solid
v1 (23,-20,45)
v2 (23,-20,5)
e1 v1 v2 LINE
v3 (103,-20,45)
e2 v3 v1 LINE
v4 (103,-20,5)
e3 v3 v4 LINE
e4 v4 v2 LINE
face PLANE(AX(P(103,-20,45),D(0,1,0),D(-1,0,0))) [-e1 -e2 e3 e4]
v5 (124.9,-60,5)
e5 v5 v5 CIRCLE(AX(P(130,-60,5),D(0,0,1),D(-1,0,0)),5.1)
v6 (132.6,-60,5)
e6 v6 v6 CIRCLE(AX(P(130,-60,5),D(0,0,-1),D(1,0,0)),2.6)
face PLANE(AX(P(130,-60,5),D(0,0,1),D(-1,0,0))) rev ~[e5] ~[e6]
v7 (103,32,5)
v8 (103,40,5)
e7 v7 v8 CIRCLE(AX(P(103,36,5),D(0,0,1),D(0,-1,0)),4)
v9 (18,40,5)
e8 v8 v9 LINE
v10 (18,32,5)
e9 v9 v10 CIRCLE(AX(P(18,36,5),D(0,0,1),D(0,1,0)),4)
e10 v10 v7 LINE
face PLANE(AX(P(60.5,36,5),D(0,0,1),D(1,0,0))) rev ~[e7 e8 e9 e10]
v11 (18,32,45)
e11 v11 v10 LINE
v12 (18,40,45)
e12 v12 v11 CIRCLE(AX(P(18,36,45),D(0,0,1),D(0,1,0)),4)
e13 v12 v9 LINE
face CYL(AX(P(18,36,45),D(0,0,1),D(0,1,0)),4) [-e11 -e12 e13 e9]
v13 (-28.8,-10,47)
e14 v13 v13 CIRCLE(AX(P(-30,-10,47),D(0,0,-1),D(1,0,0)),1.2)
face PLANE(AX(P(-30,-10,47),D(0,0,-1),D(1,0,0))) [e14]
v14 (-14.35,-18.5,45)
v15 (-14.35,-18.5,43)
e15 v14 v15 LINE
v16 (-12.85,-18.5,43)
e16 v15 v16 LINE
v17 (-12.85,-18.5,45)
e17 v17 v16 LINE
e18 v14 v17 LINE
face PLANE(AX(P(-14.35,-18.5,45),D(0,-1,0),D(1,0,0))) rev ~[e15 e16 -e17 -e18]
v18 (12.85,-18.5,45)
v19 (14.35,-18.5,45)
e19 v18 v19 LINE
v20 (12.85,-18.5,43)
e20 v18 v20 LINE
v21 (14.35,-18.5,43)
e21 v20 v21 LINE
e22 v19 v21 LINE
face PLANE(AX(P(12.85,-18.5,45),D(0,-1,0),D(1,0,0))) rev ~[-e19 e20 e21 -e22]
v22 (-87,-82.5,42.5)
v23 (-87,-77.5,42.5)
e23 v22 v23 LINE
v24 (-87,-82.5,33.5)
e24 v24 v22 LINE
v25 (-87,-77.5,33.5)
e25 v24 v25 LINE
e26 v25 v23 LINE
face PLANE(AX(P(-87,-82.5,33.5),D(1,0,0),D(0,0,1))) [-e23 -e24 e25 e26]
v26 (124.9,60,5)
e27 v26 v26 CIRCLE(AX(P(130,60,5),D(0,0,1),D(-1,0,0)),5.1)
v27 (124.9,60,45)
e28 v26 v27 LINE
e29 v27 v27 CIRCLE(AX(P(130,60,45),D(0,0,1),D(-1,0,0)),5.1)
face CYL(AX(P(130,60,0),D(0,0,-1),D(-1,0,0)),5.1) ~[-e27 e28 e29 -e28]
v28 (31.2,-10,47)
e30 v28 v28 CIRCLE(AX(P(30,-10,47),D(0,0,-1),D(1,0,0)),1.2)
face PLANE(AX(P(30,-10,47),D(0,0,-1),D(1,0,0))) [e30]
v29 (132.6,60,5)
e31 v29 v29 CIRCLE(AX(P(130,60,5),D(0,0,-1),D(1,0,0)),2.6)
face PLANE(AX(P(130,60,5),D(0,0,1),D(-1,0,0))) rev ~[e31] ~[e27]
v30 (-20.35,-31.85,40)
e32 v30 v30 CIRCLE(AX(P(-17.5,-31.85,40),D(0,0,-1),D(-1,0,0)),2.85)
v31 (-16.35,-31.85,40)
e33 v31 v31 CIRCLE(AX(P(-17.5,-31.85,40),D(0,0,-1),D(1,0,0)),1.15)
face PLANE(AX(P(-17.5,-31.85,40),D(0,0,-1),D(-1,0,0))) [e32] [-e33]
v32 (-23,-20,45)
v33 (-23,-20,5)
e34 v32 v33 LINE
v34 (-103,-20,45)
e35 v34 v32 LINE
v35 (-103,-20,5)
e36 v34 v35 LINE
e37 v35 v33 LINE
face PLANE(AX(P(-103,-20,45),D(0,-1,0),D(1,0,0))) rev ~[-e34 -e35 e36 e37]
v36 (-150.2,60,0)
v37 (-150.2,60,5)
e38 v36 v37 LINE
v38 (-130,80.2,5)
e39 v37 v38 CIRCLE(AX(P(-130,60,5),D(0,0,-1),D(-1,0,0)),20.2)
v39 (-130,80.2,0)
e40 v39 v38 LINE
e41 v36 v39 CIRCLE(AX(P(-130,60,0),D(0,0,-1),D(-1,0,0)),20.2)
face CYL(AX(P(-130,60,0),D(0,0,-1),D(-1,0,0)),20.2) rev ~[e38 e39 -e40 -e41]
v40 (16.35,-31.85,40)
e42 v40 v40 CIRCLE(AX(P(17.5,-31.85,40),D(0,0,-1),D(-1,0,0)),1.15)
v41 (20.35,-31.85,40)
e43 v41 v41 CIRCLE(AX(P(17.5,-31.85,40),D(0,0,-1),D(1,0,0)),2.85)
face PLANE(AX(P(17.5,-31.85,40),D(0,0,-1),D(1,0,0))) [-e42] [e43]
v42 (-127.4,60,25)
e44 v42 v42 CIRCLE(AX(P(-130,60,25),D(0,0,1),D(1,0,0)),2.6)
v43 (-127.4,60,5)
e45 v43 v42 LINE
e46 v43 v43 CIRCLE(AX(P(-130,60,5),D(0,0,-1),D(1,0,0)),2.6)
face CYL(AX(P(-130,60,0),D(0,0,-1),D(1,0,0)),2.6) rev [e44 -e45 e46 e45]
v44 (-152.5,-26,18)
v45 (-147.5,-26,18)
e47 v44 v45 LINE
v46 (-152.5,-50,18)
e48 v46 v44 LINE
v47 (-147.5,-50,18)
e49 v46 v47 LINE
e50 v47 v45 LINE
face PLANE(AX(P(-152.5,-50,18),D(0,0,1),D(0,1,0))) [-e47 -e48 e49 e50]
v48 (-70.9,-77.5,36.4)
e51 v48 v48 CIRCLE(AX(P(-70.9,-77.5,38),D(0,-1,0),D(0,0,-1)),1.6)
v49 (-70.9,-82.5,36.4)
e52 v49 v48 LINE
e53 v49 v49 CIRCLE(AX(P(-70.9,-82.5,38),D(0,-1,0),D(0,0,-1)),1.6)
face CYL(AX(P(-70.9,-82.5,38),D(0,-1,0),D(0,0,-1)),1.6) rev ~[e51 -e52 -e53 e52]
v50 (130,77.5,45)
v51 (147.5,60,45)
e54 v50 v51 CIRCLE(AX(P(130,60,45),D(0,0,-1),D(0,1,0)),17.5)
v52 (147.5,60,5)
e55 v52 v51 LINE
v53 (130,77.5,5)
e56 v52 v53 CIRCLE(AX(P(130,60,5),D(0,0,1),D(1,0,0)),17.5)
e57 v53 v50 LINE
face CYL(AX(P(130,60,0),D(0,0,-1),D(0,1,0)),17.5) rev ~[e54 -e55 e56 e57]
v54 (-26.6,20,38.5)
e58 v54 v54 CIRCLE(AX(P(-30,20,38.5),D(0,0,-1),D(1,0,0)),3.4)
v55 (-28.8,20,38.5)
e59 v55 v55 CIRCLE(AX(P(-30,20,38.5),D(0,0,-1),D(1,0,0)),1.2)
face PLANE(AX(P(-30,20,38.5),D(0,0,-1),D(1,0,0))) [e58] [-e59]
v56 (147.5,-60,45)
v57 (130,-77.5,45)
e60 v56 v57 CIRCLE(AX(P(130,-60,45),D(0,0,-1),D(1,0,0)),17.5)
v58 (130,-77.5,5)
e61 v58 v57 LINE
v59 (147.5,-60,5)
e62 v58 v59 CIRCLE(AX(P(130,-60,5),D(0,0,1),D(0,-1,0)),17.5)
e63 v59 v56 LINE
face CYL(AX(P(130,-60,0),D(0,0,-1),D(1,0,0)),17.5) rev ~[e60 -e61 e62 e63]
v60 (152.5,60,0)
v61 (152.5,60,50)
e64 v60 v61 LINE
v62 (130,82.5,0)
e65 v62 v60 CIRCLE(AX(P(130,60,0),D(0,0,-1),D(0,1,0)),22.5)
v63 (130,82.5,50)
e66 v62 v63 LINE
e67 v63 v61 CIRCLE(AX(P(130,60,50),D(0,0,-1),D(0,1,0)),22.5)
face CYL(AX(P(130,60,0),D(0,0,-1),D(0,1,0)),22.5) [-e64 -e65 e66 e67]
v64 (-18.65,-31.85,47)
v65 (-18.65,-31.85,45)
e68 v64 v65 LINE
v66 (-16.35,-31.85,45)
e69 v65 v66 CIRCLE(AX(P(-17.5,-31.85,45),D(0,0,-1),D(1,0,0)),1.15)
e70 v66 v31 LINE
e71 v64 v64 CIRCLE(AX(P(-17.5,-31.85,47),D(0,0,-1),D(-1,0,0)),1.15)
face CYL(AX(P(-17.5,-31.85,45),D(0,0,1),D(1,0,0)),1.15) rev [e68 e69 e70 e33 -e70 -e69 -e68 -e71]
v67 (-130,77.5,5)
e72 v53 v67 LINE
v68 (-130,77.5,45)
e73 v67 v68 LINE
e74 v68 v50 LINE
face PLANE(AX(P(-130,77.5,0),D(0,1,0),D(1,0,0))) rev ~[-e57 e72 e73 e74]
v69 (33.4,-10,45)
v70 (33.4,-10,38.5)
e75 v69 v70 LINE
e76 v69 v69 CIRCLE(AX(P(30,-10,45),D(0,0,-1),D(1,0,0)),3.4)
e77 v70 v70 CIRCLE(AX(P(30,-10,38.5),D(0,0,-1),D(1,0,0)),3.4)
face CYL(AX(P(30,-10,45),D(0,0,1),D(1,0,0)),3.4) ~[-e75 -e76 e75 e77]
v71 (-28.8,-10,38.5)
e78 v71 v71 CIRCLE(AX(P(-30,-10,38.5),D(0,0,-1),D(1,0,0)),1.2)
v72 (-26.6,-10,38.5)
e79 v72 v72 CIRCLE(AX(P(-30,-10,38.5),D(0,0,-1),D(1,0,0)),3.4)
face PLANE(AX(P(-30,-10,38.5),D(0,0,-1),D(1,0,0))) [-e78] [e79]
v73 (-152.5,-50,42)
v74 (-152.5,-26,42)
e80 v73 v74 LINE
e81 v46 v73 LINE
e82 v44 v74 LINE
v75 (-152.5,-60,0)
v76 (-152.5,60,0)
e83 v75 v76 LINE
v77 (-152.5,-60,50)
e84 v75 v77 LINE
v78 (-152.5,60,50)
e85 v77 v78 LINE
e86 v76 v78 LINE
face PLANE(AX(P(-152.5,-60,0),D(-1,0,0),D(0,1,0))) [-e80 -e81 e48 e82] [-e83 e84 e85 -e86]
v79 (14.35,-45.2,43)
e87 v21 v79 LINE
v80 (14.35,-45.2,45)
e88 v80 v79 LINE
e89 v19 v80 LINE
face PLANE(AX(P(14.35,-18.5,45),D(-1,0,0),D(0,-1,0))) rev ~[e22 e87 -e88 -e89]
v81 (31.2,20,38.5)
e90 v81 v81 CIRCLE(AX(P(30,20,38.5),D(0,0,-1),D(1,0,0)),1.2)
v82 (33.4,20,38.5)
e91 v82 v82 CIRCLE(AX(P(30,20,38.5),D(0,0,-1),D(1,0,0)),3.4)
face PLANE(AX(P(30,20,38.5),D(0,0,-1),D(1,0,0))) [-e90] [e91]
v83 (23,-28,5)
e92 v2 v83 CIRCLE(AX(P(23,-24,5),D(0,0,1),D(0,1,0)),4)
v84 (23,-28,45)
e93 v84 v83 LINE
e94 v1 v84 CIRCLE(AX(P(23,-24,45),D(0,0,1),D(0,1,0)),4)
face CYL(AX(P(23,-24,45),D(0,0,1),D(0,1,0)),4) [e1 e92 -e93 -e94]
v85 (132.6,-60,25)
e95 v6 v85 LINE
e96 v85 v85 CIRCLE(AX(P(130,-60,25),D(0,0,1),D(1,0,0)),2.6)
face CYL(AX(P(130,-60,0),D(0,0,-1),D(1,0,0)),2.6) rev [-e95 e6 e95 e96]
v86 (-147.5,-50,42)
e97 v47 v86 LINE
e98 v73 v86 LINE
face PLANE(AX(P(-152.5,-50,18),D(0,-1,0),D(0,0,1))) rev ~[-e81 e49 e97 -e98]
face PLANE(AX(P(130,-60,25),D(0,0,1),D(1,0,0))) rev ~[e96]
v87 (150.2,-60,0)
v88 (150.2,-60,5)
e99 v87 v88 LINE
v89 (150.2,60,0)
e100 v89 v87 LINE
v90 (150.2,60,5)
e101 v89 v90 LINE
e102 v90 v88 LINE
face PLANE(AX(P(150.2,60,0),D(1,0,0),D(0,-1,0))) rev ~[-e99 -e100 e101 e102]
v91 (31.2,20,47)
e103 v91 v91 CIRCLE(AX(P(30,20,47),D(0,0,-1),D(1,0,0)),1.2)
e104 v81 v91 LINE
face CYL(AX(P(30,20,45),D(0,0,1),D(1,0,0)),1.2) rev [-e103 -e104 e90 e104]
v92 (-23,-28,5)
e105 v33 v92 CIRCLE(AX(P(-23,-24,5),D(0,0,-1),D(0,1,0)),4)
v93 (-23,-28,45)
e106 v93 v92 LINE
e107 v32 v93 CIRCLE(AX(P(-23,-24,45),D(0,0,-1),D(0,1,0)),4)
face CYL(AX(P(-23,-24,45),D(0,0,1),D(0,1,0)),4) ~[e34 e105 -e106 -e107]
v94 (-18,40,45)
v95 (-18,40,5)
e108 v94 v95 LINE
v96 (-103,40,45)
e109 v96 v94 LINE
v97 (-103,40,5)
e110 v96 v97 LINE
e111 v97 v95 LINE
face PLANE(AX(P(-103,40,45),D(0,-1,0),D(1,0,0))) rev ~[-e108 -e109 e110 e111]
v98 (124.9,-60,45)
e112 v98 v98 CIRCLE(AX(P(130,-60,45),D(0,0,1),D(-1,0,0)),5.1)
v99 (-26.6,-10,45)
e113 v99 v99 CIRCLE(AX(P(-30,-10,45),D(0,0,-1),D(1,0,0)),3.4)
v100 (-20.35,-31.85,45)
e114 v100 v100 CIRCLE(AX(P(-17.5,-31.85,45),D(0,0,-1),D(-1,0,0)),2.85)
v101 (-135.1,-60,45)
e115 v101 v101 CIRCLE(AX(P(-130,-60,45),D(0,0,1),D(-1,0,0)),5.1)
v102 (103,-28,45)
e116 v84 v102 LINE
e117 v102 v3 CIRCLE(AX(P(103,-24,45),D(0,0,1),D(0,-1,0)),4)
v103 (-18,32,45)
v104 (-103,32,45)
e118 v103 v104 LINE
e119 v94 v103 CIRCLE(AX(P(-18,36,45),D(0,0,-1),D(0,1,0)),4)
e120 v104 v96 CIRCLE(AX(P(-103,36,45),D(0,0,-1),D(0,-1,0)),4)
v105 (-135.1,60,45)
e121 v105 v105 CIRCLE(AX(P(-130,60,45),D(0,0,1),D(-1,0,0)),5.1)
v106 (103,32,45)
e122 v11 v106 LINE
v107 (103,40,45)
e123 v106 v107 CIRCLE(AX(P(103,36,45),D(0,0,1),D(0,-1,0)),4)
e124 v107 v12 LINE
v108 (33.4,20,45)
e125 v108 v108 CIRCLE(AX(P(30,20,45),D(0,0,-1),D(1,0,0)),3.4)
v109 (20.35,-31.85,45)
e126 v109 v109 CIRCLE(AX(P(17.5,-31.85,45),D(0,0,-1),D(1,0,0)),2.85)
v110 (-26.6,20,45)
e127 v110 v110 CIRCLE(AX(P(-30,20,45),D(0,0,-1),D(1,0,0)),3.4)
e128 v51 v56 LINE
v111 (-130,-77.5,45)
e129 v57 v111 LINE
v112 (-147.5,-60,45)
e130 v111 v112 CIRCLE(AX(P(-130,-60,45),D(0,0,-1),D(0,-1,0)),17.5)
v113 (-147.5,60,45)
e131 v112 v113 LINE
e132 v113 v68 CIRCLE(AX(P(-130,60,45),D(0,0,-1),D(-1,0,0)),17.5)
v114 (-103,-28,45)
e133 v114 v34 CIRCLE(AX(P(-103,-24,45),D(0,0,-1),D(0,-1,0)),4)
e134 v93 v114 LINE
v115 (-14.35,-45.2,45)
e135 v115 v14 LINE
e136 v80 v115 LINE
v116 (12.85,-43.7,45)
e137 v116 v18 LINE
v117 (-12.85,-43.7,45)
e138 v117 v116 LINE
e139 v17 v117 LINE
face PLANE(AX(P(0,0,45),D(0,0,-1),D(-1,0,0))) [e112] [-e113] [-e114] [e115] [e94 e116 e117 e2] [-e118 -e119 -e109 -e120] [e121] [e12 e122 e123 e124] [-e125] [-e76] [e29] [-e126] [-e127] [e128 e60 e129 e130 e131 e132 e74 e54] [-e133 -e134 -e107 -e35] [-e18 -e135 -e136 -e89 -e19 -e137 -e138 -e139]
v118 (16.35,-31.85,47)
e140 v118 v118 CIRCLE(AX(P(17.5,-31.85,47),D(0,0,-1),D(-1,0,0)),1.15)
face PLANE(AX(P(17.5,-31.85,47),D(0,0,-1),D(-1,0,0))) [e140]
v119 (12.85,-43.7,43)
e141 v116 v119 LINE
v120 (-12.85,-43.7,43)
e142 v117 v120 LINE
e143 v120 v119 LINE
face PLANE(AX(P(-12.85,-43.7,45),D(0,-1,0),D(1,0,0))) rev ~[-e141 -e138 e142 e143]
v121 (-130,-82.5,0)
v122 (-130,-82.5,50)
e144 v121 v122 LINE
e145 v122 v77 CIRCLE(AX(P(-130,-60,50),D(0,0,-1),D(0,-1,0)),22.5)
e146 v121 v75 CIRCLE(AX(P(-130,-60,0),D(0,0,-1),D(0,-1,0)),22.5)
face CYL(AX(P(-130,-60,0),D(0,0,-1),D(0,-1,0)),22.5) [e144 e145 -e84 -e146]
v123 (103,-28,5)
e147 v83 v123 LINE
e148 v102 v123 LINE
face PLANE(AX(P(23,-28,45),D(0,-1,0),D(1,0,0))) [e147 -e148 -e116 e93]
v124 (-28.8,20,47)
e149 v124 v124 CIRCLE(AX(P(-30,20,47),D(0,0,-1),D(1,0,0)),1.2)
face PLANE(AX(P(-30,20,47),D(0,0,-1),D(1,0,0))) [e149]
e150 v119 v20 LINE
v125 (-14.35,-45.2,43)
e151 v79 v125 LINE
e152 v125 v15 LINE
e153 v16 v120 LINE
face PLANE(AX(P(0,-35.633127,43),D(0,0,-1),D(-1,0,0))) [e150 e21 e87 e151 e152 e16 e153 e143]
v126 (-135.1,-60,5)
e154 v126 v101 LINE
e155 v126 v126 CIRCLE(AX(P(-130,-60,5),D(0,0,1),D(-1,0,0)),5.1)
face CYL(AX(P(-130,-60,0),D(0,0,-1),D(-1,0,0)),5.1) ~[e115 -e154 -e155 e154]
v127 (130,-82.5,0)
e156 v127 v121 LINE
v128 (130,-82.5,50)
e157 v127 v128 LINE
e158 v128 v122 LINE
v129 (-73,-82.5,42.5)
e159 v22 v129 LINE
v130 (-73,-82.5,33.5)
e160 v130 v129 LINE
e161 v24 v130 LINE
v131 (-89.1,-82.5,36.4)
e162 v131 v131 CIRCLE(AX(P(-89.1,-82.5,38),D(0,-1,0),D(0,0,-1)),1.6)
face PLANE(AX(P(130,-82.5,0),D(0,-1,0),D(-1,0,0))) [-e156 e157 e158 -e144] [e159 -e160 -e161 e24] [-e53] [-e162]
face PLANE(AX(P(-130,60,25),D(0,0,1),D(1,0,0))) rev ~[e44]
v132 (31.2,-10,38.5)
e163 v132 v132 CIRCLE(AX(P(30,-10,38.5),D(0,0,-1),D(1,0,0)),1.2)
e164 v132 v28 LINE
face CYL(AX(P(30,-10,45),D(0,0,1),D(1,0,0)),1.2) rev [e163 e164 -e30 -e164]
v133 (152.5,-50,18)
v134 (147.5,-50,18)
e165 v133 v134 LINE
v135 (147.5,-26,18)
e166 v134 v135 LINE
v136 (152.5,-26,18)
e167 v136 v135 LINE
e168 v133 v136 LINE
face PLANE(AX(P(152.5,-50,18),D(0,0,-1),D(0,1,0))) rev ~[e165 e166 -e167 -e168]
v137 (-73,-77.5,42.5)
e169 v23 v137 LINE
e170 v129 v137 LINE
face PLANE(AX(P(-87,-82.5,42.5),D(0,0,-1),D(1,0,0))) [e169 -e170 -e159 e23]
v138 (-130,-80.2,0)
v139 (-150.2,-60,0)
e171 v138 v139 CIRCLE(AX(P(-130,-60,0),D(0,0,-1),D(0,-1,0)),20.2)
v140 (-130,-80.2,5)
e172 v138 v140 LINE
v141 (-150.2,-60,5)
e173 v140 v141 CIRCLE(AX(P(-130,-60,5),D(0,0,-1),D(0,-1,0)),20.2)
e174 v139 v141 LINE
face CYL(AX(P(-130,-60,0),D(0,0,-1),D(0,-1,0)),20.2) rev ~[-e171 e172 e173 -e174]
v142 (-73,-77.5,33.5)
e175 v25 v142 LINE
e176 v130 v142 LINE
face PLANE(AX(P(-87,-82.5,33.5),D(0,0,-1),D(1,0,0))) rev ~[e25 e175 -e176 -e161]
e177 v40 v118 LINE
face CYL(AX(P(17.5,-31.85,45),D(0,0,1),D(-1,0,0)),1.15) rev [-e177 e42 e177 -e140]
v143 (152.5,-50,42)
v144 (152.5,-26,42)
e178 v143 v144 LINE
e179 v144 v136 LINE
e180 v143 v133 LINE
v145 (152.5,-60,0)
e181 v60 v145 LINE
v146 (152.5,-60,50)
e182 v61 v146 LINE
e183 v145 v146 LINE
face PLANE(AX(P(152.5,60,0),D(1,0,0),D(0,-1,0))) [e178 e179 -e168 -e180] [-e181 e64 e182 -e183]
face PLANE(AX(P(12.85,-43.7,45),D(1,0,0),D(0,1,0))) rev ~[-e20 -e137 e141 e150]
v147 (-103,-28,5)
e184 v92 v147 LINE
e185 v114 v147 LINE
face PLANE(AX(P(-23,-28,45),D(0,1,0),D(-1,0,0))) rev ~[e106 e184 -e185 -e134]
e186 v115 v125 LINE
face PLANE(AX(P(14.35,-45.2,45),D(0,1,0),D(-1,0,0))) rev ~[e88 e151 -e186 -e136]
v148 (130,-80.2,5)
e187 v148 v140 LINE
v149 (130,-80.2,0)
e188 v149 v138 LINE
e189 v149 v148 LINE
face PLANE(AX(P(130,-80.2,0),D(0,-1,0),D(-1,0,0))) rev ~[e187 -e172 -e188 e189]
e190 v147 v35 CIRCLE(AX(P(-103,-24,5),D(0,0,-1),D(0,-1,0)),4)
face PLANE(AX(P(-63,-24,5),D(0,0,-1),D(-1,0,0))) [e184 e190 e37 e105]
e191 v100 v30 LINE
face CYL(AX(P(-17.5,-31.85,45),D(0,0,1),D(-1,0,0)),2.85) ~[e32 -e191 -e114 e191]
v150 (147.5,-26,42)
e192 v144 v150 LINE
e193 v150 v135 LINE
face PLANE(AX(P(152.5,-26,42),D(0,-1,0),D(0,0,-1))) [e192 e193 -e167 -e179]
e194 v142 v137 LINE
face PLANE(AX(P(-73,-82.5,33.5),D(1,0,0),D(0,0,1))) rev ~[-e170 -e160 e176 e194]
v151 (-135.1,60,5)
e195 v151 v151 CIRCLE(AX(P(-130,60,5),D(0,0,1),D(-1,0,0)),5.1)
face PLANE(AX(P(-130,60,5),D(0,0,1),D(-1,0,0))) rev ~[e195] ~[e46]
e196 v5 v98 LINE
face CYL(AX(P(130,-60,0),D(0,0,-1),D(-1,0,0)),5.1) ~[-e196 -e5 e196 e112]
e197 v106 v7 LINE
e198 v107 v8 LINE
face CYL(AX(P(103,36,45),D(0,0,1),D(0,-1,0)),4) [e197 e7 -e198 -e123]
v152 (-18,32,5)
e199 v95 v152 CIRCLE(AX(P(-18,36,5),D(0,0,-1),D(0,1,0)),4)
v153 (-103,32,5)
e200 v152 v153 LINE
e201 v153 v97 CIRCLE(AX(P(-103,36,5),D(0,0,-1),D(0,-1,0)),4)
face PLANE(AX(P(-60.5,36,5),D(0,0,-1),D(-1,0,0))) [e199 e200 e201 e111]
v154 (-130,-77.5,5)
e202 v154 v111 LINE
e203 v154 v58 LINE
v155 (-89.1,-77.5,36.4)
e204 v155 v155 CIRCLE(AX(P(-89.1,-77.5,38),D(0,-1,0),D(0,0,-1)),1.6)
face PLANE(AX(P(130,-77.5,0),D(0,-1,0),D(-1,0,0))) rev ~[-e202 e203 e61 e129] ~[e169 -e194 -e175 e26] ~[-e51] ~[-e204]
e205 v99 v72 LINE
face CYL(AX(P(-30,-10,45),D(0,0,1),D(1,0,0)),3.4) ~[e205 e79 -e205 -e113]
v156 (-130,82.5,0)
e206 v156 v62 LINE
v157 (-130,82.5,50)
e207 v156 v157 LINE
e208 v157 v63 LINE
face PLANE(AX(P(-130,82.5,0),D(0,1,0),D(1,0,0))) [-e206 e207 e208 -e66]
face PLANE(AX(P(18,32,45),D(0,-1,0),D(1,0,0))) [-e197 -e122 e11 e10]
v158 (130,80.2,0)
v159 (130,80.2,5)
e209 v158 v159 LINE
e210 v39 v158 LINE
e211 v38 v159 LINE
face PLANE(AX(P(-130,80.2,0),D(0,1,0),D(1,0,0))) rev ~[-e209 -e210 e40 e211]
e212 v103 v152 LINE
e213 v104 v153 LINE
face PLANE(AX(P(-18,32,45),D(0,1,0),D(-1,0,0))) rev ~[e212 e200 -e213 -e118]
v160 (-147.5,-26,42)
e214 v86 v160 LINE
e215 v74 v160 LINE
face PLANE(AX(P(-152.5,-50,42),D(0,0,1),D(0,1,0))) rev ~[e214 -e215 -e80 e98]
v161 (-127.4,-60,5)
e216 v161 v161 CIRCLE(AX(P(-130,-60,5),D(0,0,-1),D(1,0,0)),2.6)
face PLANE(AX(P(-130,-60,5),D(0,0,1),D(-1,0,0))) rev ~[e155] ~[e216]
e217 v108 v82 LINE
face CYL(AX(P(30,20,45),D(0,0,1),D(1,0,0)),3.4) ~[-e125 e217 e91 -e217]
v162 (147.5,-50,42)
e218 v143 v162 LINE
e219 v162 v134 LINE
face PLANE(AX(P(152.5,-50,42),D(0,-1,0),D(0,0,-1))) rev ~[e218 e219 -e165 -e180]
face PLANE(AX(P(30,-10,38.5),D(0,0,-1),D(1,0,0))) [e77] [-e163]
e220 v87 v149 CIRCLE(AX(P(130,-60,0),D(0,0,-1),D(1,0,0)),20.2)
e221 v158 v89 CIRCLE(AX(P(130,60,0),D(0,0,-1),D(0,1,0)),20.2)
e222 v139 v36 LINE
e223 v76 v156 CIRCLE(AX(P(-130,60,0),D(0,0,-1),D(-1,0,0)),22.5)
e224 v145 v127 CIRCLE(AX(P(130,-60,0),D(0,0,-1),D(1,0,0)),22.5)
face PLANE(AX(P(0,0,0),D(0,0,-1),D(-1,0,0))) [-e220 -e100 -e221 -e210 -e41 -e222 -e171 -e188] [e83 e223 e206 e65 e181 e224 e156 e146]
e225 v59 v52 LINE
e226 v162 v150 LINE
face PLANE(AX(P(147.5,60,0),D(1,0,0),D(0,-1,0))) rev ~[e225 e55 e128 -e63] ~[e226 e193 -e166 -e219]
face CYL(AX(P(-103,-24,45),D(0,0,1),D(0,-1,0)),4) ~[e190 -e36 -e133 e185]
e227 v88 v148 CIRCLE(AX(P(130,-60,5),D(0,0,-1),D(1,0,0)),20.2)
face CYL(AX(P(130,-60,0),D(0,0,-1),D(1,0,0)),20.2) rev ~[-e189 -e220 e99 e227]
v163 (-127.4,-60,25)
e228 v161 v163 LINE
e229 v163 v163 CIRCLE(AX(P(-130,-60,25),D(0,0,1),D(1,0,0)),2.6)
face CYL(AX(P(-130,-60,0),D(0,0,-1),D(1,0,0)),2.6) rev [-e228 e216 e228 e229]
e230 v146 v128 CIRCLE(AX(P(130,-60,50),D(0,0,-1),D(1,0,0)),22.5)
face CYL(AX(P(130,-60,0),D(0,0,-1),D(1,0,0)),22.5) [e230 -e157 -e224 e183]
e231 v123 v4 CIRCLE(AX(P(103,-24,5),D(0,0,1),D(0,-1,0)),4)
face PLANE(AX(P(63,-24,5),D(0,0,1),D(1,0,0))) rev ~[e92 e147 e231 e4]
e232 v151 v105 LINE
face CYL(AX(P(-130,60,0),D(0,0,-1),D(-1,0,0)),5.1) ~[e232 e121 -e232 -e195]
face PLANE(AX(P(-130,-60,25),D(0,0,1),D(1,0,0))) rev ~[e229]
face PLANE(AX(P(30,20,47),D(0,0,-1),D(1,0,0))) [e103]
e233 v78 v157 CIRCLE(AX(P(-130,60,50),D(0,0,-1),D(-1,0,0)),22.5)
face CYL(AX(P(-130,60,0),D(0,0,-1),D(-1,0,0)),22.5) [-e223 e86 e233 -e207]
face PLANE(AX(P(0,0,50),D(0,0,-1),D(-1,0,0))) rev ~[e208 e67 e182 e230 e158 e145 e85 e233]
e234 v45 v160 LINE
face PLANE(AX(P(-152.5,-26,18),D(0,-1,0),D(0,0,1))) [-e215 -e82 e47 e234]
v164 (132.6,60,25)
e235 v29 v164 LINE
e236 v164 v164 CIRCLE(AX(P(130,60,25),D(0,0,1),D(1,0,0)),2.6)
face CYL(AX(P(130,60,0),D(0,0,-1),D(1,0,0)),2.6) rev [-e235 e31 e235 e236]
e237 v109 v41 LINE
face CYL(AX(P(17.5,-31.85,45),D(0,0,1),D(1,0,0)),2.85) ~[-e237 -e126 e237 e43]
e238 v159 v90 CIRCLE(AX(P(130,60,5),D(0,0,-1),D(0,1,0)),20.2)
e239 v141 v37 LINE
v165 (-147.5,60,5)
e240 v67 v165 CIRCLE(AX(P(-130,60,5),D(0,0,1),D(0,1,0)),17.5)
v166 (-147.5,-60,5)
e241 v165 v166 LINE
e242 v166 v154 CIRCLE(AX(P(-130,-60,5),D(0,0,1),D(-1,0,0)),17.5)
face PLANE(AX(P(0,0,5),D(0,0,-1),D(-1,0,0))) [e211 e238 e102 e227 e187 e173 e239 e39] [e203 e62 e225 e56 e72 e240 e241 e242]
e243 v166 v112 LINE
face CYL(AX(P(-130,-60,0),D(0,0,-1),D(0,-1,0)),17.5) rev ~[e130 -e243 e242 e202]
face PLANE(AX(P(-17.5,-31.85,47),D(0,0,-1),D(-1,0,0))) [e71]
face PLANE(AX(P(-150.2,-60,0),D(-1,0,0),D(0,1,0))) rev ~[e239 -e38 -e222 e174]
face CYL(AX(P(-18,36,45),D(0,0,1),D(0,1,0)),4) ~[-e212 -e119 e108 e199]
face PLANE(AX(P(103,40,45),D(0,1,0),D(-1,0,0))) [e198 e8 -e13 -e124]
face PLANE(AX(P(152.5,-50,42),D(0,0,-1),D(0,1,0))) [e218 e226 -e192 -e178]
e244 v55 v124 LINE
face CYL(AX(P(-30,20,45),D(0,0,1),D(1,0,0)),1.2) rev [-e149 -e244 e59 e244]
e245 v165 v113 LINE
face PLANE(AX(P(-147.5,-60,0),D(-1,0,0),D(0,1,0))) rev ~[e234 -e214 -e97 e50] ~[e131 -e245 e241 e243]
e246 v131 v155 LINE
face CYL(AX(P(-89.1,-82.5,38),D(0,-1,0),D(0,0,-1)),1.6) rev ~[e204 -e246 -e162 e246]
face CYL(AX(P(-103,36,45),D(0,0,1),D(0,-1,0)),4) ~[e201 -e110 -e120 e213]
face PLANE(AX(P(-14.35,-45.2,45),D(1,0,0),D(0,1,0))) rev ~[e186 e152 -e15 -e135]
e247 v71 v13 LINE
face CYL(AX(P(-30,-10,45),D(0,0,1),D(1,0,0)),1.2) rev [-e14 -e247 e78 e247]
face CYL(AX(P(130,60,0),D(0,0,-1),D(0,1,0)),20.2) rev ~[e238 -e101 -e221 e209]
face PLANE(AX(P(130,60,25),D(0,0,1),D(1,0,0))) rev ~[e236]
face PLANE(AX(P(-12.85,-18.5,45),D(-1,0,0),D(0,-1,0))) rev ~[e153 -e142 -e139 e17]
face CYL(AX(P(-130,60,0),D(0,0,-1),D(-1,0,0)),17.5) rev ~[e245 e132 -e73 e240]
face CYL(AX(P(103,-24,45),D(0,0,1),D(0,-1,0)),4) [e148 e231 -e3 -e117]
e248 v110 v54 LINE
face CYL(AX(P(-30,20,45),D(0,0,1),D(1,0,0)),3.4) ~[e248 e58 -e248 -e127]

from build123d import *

# Parameters (mm, degrees)
EXTRUDE_1_DEPTH      = 50
SKETCH_1_4_R         = 5.1
CUT_EXTRUDE_1_DEPTH  = 45
CUT_EXTRUDE_2_DEPTH  = 5
SKETCH_1_6_R         = 5.1
CUT_EXTRUDE_3_DEPTH  = 5
SKETCH_1_7_R         = 2.6
CUT_EXTRUDE_4_DEPTH  = 25
SKETCH_14_W          = 14
SKETCH_14_H          = 9
SKETCH_14_R          = 1.6
USB_DEPTH            = 5
SKETCH_16_W          = 24
SKETCH_16_H          = 24
CUT_EXTRUDE_12_DEPTH = 5
SKETCH_18_W          = 24
SKETCH_18_H          = 24
CUT_EXTRUDE_13_DEPTH = 5
EXTRUDE_2_DEPTH      = 40
EXTRUDE_3_DEPTH      = 2
SKETCH_29_4_R        = 2.85
SKETCH_29_4_R_2      = 1.15
EXTRUDE_4_DEPTH      = 5
SKETCH_29_5_R        = 3.4
SKETCH_29_5_R_2      = 1.2
EXTRUDE_5_DEPTH      = 6.5
CUT_EXTRUDE_START    = -2
SKETCH_29_6_R        = 1.15
SKETCH_29_6_R_2      = 1.2
CUT_EXTRUDE_14_DEPTH = 2


with BuildPart() as part:
    # 草图1 → 凸台-拉伸1 (new body)
    with BuildSketch(Plane.XY):
        with BuildLine():
            Line((-130, 82.5), (130, 82.5))
            ThreePointArc((130, 82.5), (145.909902577, 75.909902577), (152.5, 60))
            Line((152.5, 60), (152.5, -60))
            ThreePointArc((152.5, -60), (145.909902577, -75.909902577), (130, -82.5))
            Line((130, -82.5), (-130, -82.5))
            ThreePointArc((-130, -82.5), (-145.909902577, -75.909902577), (-152.5, -60))
            Line((-152.5, -60), (-152.5, 60))
            ThreePointArc((-152.5, 60), (-145.909902577, 75.909902577), (-130, 82.5))
        make_face()
    extrude(amount=EXTRUDE_1_DEPTH)

    # 草图1<4> → 切除-拉伸1 (cut)
    with BuildSketch(Plane.XY):
        with BuildLine():
            Line((130, 77.5), (-130, 77.5))
            ThreePointArc((-130, 77.5), (-142.374368671, 72.374368671), (-147.5, 60))
            Line((-147.5, 60), (-147.5, -60))
            ThreePointArc((-147.5, -60), (-142.374368671, -72.374368671), (-130, -77.5))
            Line((-130, -77.5), (130, -77.5))
            ThreePointArc((130, -77.5), (142.374368671, -72.374368671), (147.5, -60))
            Line((147.5, -60), (147.5, 60))
            ThreePointArc((147.5, 60), (142.374368671, 72.374368671), (130, 77.5))
        make_face()
        with Locations((-130, -60)):
            Circle(SKETCH_1_4_R, mode=Mode.SUBTRACT)
        with Locations((130, -60)):
            Circle(SKETCH_1_4_R, mode=Mode.SUBTRACT)
        with Locations((-130, 60)):
            Circle(SKETCH_1_4_R, mode=Mode.SUBTRACT)
        with Locations((130, 60)):
            Circle(SKETCH_1_4_R, mode=Mode.SUBTRACT)
    extrude(amount=CUT_EXTRUDE_1_DEPTH, mode=Mode.SUBTRACT)

    # 草图1<5> → 切除-拉伸2 (cut)
    with BuildSketch(Plane.XY):
        with BuildLine():
            ThreePointArc((-130, 80.2), (-144.28355698, 74.28355698), (-150.2, 60))
            Line((-150.2, 60), (-150.2, -60))
            ThreePointArc((-150.2, -60), (-144.28355698, -74.28355698), (-130, -80.2))
            Line((-130, -80.2), (130, -80.2))
            ThreePointArc((130, -80.2), (144.28355698, -74.28355698), (150.2, -60))
            Line((150.2, -60), (150.2, 60))
            ThreePointArc((150.2, 60), (144.28355698, 74.28355698), (130, 80.2))
            Line((130, 80.2), (-130, 80.2))
        make_face()
        with BuildLine():
            ThreePointArc((-147.5, 60), (-142.374368671, 72.374368671), (-130, 77.5))
            Line((-130, 77.5), (130, 77.5))
            ThreePointArc((130, 77.5), (142.374368671, 72.374368671), (147.5, 60))
            Line((147.5, 60), (147.5, -60))
            ThreePointArc((147.5, -60), (142.374368671, -72.374368671), (130, -77.5))
            Line((130, -77.5), (-130, -77.5))
            ThreePointArc((-130, -77.5), (-142.374368671, -72.374368671), (-147.5, -60))
            Line((-147.5, -60), (-147.5, 60))
        make_face(mode=Mode.SUBTRACT)
    extrude(amount=CUT_EXTRUDE_2_DEPTH, mode=Mode.SUBTRACT)

    # 草图1<6> → 切除-拉伸3 (cut)
    with BuildSketch(Plane.XY):
        with Locations((130, 60)):
            Circle(SKETCH_1_6_R)
        with Locations((130, -60)):
            Circle(SKETCH_1_6_R)
        with Locations((-130, 60)):
            Circle(SKETCH_1_6_R)
        with Locations((-130, -60)):
            Circle(SKETCH_1_6_R)
    extrude(amount=CUT_EXTRUDE_3_DEPTH, mode=Mode.SUBTRACT)

    # 草图1<7> → 切除-拉伸4 (cut)
    with BuildSketch(Plane.XY):
        with Locations((130, 60)):
            Circle(SKETCH_1_7_R)
        with Locations((130, -60)):
            Circle(SKETCH_1_7_R)
        with Locations((-130, 60)):
            Circle(SKETCH_1_7_R)
        with Locations((-130, -60)):
            Circle(SKETCH_1_7_R)
    extrude(amount=CUT_EXTRUDE_4_DEPTH, mode=Mode.SUBTRACT)

    # 草图14 → USB口 (cut)
    with BuildSketch(Plane.XZ.offset(82.5)):
        with Locations((-80, 38)):
            Rectangle(SKETCH_14_W, SKETCH_14_H)
        with Locations((-70.9, 38)):
            Circle(SKETCH_14_R)
        with Locations((-89.1, 38)):
            Circle(SKETCH_14_R)
    extrude(amount=-USB_DEPTH, mode=Mode.SUBTRACT)

    # 草图16 → 切除-拉伸12 (cut)
    with BuildSketch(Plane(origin=(152.5, 0, 0), x_dir=(0, 0, -1), z_dir=(1, 0, 0))):
        with Locations((-30, -38)):
            Rectangle(SKETCH_16_W, SKETCH_16_H)
    extrude(amount=-CUT_EXTRUDE_12_DEPTH, mode=Mode.SUBTRACT)

    # 草图18 → 切除-拉伸13 (cut)
    with BuildSketch(Plane.ZY.offset(152.5)):
        with Locations((30, -38)):
            Rectangle(SKETCH_18_W, SKETCH_18_H)
    extrude(amount=-CUT_EXTRUDE_13_DEPTH, mode=Mode.SUBTRACT)

    # 草图19 → 凸台-拉伸2 (add)
    with BuildSketch(Plane(origin=(0, 0, 45), x_dir=(-1, 0, 0), z_dir=(0, 0, -1))):
        with BuildLine():
            Line((-103, 40), (-18, 40))
            ThreePointArc((-18, 40), (-14, 36), (-18, 32))
            Line((-18, 32), (-103, 32))
            ThreePointArc((-103, 32), (-107, 36), (-103, 40))
        make_face()
        with BuildLine():
            Line((103, 40), (18, 40))
            ThreePointArc((18, 40), (14, 36), (18, 32))
            Line((18, 32), (103, 32))
            ThreePointArc((103, 32), (107, 36), (103, 40))
        make_face()
        with BuildLine():
            Line((-103, -20), (-23, -20))
            ThreePointArc((-23, -20), (-19, -24), (-23, -28))
            Line((-23, -28), (-103, -28))
            ThreePointArc((-103, -28), (-107, -24), (-103, -20))
        make_face()
        with BuildLine():
            Line((103, -20), (23, -20))
            ThreePointArc((23, -20), (19, -24), (23, -28))
            Line((23, -28), (103, -28))
            ThreePointArc((103, -28), (107, -24), (103, -20))
        make_face()
    extrude(amount=EXTRUDE_2_DEPTH)

    # 草图29 → 凸台-拉伸3 (add)
    with BuildSketch(Plane(origin=(0, 0, 45), x_dir=(-1, 0, 0), z_dir=(0, 0, -1))):
        Polygon((-14.35, -45.2), (14.35, -45.2), (14.35, -18.5), (12.85, -18.5), (12.85, -20), (12.85, -43.7), (-12.85, -43.7), (-12.85, -20), (-12.85, -18.5), (-14.35, -18.5), align=None)
    extrude(amount=EXTRUDE_3_DEPTH)

    # 草图29<4> → 凸台-拉伸4 (add)
    # profile 1 of 2: a face of its own
    with BuildSketch(Plane(origin=(0, 0, 45), x_dir=(-1, 0, 0), z_dir=(0, 0, -1))):
        with Locations((-17.5, -31.85)):
            Circle(SKETCH_29_4_R)
        with Locations((-17.5, -31.85)):
            Circle(SKETCH_29_4_R_2, mode=Mode.SUBTRACT)
    # profile 2 of 2: a face of its own
    with BuildSketch(Plane(origin=(0, 0, 45), x_dir=(-1, 0, 0), z_dir=(0, 0, -1))):
        with Locations((17.5, -31.85)):
            Circle(SKETCH_29_4_R)
        with Locations((17.5, -31.85)):
            Circle(SKETCH_29_4_R_2, mode=Mode.SUBTRACT)
    extrude(amount=EXTRUDE_4_DEPTH)

    # 草图29<5> → 凸台-拉伸5 (add)
    # profile 1 of 4: a face of its own
    with BuildSketch(Plane(origin=(0, 0, 45), x_dir=(-1, 0, 0), z_dir=(0, 0, -1))):
        with Locations((-30, 20)):
            Circle(SKETCH_29_5_R)
        with Locations((-30, 20)):
            Circle(SKETCH_29_5_R_2, mode=Mode.SUBTRACT)
    # profile 2 of 4: a face of its own
    with BuildSketch(Plane(origin=(0, 0, 45), x_dir=(-1, 0, 0), z_dir=(0, 0, -1))):
        with Locations((30, 20)):
            Circle(SKETCH_29_5_R)
        with Locations((30, 20)):
            Circle(SKETCH_29_5_R_2, mode=Mode.SUBTRACT)
    # profile 3 of 4: a face of its own
    with BuildSketch(Plane(origin=(0, 0, 45), x_dir=(-1, 0, 0), z_dir=(0, 0, -1))):
        with Locations((30, -10)):
            Circle(SKETCH_29_5_R)
        with Locations((30, -10)):
            Circle(SKETCH_29_5_R_2, mode=Mode.SUBTRACT)
    # profile 4 of 4: a face of its own
    with BuildSketch(Plane(origin=(0, 0, 45), x_dir=(-1, 0, 0), z_dir=(0, 0, -1))):
        with Locations((-30, -10)):
            Circle(SKETCH_29_5_R)
        with Locations((-30, -10)):
            Circle(SKETCH_29_5_R_2, mode=Mode.SUBTRACT)
    extrude(amount=EXTRUDE_5_DEPTH)

    # 草图29<6> → 切除-拉伸14 (cut)
    with BuildSketch(Plane(origin=(0, 0, 45), x_dir=(-1, 0, 0), z_dir=(0, 0, -1)).offset(CUT_EXTRUDE_START)):
        with Locations((-17.5, -31.85)):
            Circle(SKETCH_29_6_R)
        with Locations((17.5, -31.85)):
            Circle(SKETCH_29_6_R)
        with Locations((-30, 20)):
            Circle(SKETCH_29_6_R_2)
        with Locations((30, 20)):
            Circle(SKETCH_29_6_R_2)
        with Locations((30, -10)):
            Circle(SKETCH_29_6_R_2)
        with Locations((-30, -10)):
            Circle(SKETCH_29_6_R_2)
    extrude(amount=CUT_EXTRUDE_14_DEPTH, mode=Mode.SUBTRACT)


solid = part.part
